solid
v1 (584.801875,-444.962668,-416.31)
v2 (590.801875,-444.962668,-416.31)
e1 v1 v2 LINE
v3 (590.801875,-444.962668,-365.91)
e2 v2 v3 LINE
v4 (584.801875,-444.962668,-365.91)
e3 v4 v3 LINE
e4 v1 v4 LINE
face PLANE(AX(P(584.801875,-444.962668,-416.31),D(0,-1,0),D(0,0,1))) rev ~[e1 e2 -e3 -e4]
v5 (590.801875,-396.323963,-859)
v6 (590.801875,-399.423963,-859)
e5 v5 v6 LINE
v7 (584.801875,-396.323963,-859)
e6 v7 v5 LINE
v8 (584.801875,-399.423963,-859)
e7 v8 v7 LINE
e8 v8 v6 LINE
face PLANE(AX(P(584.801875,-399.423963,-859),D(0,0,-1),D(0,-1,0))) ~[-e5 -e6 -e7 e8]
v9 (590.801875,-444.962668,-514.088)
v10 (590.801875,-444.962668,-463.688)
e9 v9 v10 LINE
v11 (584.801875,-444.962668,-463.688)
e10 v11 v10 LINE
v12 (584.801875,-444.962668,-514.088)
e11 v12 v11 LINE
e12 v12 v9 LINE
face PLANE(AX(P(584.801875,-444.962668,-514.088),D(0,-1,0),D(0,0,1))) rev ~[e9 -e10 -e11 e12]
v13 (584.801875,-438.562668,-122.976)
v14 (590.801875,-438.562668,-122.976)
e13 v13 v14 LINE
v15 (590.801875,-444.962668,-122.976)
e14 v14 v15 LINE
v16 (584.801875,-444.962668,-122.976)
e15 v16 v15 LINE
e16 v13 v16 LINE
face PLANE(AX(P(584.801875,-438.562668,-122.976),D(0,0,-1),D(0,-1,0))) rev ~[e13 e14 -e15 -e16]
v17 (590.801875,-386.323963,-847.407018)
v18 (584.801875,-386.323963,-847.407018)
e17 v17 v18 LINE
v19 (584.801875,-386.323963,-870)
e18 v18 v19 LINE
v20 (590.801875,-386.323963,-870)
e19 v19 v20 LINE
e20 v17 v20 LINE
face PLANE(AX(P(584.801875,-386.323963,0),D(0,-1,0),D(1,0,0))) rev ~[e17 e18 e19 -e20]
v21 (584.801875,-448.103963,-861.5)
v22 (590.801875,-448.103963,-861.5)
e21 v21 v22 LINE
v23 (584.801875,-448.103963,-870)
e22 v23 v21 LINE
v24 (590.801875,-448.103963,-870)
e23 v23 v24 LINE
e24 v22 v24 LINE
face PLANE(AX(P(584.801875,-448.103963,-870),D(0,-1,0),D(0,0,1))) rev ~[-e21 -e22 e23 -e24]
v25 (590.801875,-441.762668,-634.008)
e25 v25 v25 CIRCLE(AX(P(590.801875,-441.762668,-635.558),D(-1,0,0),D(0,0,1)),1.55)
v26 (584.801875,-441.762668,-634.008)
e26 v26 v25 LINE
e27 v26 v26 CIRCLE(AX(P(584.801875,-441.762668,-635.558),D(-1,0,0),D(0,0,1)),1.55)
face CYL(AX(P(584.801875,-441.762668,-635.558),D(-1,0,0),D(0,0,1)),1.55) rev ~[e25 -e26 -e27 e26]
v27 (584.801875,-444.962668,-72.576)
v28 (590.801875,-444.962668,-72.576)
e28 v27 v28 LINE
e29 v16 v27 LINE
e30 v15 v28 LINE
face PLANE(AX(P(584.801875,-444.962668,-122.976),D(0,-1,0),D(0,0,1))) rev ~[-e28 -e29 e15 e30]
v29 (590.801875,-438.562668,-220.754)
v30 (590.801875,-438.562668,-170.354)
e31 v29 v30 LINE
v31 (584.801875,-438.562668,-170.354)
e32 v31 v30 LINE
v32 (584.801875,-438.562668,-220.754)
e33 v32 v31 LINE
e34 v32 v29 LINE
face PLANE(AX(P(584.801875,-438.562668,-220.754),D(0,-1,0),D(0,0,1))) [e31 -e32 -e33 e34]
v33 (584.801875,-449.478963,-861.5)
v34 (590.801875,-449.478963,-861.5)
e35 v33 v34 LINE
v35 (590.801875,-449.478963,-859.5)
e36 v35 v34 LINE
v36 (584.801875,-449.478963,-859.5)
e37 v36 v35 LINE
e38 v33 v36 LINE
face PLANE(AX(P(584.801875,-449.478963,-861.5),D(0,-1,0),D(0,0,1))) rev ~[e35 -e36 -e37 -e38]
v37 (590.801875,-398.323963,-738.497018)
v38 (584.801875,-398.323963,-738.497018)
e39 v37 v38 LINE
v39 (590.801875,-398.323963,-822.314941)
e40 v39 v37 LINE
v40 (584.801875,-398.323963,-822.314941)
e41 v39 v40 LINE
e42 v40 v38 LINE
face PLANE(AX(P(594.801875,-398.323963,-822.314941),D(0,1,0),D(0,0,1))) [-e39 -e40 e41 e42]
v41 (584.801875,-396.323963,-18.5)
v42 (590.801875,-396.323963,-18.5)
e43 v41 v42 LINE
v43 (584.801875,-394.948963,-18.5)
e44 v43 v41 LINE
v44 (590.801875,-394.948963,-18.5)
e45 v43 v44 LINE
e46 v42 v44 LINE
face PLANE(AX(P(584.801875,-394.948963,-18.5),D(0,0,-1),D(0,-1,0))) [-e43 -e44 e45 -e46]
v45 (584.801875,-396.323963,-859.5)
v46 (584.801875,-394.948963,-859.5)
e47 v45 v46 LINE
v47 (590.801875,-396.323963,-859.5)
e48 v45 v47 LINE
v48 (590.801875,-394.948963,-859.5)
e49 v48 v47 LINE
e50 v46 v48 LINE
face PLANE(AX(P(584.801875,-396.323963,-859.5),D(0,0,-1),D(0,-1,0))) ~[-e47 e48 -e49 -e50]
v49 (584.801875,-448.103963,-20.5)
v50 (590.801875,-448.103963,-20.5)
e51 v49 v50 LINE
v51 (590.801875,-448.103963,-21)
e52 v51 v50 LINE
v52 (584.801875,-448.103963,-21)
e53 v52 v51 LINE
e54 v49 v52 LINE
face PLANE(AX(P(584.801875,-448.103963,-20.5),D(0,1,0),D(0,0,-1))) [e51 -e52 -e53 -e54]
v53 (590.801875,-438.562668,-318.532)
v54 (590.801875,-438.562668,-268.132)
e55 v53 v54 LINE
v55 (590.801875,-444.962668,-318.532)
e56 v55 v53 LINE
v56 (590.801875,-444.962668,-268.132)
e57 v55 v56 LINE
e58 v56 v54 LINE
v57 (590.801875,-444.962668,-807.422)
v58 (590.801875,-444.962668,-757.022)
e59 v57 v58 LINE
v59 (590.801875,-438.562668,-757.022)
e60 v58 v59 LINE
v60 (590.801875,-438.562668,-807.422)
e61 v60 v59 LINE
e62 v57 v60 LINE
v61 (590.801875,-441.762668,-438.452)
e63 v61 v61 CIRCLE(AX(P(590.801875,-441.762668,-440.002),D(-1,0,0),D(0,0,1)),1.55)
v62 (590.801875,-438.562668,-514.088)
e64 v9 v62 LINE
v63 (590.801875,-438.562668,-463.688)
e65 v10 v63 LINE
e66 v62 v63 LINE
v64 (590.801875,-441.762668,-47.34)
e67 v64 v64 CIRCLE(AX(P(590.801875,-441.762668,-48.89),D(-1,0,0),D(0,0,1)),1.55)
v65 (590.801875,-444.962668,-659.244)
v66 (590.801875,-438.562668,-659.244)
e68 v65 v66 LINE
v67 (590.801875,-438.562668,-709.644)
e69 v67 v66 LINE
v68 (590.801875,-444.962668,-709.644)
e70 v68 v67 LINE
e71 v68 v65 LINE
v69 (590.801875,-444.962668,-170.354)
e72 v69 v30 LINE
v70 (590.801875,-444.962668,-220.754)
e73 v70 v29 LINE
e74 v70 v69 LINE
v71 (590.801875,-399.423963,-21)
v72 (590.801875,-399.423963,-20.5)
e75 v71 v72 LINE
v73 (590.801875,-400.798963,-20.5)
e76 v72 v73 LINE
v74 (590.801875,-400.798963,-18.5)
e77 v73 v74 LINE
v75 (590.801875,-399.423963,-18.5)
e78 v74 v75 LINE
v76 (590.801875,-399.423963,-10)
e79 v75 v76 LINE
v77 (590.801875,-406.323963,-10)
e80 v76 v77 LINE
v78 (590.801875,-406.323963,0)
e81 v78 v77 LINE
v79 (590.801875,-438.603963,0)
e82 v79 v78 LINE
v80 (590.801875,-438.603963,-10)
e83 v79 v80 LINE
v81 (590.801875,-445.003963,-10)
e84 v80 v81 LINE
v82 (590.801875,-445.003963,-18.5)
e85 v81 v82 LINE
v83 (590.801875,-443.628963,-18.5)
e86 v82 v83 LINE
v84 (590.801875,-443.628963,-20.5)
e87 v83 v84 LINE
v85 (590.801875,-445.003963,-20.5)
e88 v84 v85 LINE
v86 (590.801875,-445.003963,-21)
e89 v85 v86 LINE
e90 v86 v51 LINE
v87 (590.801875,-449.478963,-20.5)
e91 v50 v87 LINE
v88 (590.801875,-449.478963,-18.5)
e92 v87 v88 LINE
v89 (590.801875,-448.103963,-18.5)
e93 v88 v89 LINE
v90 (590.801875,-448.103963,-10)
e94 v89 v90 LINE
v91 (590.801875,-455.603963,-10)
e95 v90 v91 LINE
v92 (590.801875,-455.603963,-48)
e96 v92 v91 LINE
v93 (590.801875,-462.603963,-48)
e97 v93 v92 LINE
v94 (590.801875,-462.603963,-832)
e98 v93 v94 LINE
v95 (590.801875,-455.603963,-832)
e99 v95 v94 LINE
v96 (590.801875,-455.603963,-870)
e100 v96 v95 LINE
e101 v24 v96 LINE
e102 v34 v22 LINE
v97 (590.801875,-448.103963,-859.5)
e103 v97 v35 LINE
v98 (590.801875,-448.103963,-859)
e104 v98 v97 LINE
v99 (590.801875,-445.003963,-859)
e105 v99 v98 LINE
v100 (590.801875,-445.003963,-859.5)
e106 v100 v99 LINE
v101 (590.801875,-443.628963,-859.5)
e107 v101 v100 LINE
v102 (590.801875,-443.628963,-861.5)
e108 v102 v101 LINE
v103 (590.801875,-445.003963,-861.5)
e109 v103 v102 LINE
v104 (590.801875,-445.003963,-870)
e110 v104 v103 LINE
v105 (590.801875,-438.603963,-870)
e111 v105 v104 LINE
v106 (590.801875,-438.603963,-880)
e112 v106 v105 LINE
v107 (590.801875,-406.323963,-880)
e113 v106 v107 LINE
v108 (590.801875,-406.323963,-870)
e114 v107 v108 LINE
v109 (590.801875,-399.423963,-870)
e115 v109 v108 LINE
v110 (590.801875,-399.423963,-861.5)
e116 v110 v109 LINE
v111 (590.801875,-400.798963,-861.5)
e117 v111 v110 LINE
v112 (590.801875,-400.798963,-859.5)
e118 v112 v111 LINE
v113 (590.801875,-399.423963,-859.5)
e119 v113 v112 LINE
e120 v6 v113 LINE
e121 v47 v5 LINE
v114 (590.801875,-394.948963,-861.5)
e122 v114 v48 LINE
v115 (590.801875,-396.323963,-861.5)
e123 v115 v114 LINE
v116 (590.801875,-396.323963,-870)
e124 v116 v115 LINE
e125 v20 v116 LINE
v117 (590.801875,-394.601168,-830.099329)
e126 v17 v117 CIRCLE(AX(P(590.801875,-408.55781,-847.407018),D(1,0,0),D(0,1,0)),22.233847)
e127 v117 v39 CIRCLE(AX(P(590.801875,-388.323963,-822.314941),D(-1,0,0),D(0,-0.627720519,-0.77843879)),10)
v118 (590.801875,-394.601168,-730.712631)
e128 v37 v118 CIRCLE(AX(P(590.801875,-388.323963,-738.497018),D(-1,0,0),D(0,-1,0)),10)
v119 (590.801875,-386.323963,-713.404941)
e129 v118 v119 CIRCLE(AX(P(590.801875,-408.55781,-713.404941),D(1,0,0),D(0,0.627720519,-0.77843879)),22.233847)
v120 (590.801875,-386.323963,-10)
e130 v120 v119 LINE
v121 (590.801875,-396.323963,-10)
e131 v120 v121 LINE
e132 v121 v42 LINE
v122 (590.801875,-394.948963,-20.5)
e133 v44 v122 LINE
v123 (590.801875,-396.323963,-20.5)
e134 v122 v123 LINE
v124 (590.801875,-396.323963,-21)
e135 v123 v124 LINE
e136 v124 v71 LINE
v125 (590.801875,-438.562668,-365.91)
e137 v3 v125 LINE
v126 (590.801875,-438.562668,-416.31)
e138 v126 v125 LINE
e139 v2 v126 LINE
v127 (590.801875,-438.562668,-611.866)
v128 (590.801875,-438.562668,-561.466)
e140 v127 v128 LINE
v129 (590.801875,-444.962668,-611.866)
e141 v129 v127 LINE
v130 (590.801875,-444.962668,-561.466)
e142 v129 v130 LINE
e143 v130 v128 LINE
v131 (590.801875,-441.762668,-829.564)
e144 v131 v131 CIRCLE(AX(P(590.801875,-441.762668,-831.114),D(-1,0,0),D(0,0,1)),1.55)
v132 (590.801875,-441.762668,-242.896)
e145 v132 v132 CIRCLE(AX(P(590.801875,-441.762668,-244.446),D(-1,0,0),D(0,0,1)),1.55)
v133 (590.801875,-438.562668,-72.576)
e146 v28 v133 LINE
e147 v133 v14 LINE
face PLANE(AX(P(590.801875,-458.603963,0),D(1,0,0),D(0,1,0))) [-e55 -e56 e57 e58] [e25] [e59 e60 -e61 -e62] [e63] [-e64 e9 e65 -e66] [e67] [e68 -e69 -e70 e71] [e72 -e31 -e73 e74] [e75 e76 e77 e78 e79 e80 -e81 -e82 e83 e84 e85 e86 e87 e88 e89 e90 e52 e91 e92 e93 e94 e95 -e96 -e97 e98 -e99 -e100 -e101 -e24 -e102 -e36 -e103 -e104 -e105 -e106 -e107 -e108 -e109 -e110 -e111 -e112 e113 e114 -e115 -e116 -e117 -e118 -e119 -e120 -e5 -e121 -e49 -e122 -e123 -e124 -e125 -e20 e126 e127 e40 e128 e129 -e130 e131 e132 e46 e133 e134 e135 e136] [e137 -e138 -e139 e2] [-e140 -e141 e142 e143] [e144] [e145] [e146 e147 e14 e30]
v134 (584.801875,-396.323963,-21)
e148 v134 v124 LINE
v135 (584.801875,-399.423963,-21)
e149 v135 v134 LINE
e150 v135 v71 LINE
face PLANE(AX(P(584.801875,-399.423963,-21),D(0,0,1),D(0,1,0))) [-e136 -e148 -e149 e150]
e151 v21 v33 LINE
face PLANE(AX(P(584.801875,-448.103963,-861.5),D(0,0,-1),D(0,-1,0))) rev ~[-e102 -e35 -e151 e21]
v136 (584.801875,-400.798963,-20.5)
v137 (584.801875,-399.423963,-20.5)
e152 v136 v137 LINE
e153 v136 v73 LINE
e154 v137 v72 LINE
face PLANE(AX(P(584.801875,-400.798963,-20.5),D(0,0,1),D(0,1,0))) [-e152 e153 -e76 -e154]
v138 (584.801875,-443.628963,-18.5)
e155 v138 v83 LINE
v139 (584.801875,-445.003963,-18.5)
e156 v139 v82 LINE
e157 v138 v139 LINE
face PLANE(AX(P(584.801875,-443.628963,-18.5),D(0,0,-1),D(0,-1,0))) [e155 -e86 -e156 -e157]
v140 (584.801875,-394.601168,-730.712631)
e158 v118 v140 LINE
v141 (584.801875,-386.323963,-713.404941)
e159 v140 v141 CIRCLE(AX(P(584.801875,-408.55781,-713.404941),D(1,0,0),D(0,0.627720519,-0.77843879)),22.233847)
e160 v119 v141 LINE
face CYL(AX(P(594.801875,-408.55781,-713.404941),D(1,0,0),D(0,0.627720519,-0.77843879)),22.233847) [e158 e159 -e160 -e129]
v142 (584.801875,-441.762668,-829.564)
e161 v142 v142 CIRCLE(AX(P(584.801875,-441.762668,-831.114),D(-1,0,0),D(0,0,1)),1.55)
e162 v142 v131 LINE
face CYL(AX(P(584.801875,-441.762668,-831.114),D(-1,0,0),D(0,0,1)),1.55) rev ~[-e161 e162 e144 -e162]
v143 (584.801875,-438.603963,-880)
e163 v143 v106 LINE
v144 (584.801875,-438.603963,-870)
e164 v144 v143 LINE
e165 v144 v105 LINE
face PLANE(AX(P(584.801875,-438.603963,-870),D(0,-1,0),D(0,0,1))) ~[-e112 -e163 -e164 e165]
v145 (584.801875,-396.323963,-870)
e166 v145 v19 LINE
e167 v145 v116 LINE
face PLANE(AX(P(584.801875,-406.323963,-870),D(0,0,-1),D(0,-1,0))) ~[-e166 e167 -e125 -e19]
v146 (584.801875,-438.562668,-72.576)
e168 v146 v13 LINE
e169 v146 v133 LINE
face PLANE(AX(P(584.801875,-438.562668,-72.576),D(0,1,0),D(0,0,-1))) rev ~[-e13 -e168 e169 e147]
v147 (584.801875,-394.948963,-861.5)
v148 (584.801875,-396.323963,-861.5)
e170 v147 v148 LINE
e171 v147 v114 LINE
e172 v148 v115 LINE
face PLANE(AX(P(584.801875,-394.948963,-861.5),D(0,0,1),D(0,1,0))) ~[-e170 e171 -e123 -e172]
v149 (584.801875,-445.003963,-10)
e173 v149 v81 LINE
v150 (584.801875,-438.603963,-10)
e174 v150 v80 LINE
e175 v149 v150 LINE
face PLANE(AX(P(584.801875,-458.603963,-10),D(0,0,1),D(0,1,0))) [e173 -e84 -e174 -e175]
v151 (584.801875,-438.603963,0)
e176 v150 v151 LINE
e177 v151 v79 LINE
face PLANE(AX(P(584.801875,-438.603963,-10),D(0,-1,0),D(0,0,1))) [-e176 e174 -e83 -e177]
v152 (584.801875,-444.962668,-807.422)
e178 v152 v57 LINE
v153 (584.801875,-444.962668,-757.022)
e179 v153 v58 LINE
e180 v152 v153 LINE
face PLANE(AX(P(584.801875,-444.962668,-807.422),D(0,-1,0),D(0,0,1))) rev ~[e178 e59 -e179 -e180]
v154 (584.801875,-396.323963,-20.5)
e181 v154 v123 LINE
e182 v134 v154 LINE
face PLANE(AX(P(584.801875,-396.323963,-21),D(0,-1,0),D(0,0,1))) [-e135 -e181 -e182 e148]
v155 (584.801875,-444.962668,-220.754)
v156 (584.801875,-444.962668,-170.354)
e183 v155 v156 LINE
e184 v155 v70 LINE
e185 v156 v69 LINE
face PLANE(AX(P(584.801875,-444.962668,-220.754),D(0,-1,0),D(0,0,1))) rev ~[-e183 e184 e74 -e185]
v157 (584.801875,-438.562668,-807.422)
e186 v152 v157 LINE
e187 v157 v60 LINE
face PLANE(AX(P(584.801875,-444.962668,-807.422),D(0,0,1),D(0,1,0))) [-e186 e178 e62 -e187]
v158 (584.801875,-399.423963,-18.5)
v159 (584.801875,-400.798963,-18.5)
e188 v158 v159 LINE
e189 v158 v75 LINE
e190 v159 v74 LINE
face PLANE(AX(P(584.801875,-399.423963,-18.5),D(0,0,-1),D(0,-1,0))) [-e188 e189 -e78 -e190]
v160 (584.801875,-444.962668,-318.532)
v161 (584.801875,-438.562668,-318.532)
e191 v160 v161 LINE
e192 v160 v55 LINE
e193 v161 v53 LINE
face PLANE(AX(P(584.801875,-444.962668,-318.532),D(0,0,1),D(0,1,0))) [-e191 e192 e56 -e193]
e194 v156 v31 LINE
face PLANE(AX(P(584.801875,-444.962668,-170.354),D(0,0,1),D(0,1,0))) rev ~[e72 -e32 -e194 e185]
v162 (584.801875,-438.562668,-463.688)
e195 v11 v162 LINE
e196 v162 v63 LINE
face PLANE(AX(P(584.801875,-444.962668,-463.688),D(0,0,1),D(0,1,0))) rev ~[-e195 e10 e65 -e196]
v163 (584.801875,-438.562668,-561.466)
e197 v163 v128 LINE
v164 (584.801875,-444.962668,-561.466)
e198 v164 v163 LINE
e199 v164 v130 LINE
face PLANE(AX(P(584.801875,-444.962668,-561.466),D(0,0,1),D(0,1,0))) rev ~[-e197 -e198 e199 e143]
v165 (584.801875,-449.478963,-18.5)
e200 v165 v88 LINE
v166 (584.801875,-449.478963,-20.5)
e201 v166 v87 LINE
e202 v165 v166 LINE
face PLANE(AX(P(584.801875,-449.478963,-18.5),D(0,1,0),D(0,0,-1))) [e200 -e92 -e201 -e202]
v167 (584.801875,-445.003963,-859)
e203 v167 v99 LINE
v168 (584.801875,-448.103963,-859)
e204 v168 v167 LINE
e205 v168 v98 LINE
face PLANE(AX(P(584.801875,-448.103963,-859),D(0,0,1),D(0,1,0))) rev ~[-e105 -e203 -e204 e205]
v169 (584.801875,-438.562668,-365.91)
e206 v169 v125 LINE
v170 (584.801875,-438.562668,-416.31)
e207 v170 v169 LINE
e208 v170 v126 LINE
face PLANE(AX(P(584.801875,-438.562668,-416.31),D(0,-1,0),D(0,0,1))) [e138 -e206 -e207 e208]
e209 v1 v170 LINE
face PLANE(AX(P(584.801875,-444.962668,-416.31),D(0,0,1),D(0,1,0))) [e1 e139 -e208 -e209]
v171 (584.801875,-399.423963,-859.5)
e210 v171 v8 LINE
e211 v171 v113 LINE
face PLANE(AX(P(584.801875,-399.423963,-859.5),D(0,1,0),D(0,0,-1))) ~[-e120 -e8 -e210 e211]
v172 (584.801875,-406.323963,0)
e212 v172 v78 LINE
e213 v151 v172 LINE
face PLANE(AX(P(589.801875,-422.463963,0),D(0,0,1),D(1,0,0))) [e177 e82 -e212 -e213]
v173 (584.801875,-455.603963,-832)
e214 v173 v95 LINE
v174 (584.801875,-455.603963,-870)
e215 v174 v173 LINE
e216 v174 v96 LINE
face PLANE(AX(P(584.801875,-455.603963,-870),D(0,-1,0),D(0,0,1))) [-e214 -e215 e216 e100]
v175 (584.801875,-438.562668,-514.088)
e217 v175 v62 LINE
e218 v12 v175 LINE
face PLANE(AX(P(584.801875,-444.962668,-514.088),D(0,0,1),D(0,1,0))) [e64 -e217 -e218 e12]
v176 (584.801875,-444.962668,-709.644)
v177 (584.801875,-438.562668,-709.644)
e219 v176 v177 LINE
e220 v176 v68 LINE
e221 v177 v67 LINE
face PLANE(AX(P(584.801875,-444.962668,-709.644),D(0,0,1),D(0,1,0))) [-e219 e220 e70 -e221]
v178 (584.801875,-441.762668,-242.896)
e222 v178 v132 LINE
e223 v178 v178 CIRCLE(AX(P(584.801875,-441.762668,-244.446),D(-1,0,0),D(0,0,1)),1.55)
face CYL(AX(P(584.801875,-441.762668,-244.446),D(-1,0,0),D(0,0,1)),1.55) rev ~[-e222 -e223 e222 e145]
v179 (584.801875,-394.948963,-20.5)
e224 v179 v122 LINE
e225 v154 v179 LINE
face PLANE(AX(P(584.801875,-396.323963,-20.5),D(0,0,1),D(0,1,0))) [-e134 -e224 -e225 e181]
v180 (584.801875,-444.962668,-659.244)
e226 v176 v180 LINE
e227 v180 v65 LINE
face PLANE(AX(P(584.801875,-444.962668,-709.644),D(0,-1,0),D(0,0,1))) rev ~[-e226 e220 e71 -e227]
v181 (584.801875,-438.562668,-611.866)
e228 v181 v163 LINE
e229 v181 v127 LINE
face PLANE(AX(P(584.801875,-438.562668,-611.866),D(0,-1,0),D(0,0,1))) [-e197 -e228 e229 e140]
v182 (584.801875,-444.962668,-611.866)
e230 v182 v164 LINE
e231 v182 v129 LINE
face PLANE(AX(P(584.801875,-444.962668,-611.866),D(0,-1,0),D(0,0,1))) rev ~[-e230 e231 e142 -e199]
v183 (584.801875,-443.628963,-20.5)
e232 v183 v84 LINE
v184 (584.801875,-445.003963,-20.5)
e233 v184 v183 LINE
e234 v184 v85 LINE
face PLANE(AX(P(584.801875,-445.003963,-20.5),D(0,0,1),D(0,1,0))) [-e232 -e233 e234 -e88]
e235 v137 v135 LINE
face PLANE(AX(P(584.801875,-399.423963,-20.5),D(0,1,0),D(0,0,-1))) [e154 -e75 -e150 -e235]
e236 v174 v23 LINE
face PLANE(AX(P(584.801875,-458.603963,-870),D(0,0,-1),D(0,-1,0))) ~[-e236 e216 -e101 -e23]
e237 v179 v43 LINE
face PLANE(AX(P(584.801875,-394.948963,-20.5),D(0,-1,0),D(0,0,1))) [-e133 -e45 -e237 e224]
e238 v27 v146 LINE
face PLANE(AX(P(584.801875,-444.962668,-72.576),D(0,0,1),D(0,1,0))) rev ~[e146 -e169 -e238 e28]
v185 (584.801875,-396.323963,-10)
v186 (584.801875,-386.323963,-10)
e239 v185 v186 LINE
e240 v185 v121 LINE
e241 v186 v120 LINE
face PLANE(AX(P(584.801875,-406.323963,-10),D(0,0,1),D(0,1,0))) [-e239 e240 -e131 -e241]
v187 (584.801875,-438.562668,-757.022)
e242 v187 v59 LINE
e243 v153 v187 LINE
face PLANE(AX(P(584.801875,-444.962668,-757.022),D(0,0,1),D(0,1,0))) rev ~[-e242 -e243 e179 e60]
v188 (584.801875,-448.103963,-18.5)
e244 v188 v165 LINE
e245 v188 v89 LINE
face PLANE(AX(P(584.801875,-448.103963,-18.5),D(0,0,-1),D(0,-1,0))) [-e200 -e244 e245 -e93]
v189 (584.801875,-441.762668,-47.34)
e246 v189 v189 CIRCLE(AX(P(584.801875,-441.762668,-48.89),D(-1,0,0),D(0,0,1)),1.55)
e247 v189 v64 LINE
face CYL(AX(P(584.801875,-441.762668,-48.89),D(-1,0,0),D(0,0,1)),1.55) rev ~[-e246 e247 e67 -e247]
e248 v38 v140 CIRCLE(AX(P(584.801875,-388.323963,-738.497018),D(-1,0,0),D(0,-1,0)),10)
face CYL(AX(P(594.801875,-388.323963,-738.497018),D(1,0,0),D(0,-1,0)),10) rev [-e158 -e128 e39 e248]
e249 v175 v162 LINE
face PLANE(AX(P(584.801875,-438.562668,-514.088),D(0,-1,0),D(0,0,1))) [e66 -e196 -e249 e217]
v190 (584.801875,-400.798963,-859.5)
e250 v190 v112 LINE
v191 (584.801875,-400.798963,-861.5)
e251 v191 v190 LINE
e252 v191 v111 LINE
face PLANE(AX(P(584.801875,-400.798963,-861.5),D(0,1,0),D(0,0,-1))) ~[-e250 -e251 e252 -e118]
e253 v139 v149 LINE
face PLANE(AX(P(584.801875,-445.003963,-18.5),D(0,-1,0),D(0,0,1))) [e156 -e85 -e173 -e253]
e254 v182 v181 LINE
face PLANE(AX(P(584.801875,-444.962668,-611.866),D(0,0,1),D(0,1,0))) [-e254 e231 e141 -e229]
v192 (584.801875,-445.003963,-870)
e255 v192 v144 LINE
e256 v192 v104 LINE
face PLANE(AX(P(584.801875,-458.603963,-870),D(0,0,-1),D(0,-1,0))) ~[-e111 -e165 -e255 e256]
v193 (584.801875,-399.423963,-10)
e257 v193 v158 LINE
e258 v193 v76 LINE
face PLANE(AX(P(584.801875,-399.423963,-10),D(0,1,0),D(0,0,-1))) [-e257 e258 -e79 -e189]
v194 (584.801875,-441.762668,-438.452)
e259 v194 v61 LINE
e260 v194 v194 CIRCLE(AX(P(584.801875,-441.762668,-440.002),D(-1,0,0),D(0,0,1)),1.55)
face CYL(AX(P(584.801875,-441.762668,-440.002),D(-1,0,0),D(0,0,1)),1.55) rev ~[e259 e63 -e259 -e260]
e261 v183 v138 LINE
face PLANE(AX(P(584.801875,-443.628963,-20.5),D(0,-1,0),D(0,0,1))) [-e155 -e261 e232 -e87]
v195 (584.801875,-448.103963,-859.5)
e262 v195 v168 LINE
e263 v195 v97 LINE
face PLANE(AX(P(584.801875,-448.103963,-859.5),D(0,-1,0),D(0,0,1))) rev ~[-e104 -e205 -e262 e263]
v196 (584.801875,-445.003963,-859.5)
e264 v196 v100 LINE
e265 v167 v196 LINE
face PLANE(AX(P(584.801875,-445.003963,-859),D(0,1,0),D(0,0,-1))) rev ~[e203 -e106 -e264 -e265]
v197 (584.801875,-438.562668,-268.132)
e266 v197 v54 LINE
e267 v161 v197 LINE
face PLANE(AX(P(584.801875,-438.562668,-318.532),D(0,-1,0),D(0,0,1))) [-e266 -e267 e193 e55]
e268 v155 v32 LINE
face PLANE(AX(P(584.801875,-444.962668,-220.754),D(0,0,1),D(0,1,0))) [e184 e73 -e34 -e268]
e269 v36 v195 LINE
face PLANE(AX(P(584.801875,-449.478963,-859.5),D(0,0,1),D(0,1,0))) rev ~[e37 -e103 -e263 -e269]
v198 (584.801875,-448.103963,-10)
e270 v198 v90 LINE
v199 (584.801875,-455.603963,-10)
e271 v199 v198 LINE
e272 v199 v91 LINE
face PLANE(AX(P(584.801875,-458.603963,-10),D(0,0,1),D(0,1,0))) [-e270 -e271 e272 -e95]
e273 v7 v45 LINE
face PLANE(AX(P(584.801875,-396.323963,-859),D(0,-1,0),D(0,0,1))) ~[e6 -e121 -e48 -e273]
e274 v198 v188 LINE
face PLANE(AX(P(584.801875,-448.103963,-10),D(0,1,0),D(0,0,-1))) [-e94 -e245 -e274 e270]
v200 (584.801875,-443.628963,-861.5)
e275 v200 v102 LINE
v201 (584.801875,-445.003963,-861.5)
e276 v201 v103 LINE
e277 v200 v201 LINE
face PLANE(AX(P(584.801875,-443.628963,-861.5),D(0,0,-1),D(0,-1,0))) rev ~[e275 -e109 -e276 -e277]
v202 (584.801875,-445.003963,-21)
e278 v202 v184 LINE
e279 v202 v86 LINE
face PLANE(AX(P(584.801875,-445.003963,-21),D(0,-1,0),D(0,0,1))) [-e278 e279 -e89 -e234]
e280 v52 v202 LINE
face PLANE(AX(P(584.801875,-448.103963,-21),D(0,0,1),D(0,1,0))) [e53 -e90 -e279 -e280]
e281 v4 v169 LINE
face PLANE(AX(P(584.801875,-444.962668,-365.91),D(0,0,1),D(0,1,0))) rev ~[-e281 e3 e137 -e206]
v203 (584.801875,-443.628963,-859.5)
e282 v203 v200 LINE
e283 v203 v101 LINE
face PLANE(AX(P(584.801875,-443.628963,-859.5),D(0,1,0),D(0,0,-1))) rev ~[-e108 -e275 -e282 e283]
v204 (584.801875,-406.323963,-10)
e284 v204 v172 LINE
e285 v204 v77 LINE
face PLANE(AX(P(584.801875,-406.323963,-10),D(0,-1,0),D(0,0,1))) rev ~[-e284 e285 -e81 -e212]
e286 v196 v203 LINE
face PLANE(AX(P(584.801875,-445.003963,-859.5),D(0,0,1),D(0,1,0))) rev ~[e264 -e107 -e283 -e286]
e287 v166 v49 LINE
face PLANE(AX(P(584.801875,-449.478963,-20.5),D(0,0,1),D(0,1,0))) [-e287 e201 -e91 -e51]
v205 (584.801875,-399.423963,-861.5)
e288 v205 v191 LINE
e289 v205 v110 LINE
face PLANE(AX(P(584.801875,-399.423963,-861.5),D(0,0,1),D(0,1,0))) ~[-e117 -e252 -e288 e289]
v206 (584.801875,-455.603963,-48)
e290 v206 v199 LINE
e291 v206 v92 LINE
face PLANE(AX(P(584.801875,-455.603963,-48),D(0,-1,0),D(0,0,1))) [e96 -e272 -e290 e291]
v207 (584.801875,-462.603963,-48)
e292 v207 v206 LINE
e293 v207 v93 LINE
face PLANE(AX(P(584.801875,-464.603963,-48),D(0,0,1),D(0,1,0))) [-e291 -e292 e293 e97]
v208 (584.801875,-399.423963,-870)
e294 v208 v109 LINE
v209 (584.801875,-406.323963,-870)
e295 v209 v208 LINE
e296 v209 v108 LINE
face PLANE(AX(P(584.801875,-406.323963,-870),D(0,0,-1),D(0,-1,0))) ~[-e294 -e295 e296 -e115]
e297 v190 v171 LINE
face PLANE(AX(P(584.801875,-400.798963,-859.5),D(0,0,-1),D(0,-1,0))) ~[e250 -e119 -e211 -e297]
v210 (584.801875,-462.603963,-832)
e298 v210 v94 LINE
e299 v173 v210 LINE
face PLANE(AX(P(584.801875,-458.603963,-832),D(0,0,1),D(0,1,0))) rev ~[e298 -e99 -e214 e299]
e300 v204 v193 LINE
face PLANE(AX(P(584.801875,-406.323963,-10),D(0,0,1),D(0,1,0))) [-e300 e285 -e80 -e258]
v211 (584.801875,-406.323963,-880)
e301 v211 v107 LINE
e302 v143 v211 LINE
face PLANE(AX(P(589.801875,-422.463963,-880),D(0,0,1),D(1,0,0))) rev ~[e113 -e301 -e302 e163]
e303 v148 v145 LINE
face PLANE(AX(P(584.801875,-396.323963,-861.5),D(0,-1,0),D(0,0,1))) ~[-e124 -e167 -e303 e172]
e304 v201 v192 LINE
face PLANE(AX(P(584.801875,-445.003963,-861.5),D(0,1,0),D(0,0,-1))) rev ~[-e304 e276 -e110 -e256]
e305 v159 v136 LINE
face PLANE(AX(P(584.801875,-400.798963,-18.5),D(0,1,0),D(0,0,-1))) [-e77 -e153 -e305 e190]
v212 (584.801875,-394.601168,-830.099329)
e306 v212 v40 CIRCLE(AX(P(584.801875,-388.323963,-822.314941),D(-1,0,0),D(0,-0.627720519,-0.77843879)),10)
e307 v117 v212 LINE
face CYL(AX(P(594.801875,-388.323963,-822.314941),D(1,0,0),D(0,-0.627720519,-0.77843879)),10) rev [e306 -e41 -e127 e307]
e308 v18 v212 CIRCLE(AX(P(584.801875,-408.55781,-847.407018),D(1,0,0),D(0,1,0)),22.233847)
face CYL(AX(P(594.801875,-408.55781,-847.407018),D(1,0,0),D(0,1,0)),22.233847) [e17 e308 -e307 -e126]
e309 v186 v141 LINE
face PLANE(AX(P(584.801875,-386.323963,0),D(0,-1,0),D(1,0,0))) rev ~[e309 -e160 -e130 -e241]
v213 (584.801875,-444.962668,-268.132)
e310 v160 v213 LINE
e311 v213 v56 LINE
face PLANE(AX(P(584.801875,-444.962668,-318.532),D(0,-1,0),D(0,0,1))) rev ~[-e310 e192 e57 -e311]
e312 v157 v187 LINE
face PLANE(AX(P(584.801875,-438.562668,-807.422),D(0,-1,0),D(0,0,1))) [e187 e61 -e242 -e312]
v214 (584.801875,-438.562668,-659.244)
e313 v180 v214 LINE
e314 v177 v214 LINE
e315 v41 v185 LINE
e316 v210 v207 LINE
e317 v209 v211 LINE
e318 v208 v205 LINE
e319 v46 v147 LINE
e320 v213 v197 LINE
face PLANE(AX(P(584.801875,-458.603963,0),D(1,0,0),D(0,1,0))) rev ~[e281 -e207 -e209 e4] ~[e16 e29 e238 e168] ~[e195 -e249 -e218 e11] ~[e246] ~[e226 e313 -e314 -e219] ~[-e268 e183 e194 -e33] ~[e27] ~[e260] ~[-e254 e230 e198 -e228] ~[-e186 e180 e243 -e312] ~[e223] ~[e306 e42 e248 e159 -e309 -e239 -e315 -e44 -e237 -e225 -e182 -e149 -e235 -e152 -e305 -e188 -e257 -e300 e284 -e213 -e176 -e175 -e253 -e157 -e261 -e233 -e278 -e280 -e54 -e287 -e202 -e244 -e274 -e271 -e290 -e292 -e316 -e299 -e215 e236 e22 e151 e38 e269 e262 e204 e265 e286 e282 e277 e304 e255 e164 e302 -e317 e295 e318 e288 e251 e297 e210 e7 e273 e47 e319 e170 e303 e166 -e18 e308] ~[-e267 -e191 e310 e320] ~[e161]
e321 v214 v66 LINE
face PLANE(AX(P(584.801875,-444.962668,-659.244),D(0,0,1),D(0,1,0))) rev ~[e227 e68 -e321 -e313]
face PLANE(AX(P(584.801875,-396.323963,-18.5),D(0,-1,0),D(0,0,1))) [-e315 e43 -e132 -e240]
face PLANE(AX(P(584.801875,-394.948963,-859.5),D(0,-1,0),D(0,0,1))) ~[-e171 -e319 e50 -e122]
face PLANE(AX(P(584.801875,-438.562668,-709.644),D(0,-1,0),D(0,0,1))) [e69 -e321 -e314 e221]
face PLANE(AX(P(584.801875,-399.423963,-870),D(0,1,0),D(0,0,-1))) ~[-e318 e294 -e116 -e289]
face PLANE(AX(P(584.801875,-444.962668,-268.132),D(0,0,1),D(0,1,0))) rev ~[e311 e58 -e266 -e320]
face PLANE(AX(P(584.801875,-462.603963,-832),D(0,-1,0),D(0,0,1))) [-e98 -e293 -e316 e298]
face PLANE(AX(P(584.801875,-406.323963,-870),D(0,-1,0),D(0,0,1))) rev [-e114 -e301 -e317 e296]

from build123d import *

# Parameters (mm, degrees)
SZKIC1_W                    = 10
SZKIC1_H                    = 72.28
DODANIE_WYCI_GNI_CIE1_DEPTH = 880
WYTNIJ_WYCI_GNI_CIE1_DEPTH  = 10
PRZENIE_CIAN_1_BY           = 4
SZKIC11_R                   = 1.55
WYTNIJ_WYCI_GNI_CIE5_DEPTH  = 6
SZYK_LINIOWY2_COUNT         = 5
SZYK_LINIOWY2_PITCH         = 195.556
SZKIC4_W                    = 10
SZKIC4_H                    = 20
WYTNIJ_WYCI_GNI_CIE2_DEPTH  = 10
SZKIC12_W                   = 784
SZKIC12_H                   = 6
DODANIE_WYCI_GNI_CIE2_DEPTH = 6
SZKIC15_W                   = 38
SZKIC15_H                   = 3
WYTNIJ_WYCI_GNI_CIE8_DEPTH  = 6
SZKIC13_W                   = 784
SZKIC13_H                   = 2
WYTNIJ_WYCI_GNI_CIE6_DEPTH  = 996.134585066
WYTNIJ_WYCI_GNI_CIE3_DEPTH  = 10
SZYK_LINIOWY1_COUNT         = 2
SZYK_LINIOWY1_PITCH         = 48.68
LUSTRO1_COPY_1_DEPTH        = 10
SZKIC8_W                    = 50.4
SZKIC8_H                    = 6.4
WYTNIJ_WYCI_GNI_CIE4_DEPTH  = 6


with BuildPart() as part:
    # Szkic1 → Dodanie-wyciągnięcie1 (new body)
    with BuildSketch(Plane.XY):
        with Locations((589.801874809, -422.463962956)):
            Rectangle(SZKIC1_W, SZKIC1_H)
    extrude(amount=-DODANIE_WYCI_GNI_CIE1_DEPTH)

    # Szkic3 → Wytnij-wyciągnięcie1 (cut)
    with BuildSketch(Plane(origin=(594.801874809, 0, 0), x_dir=(0, 0, -1), z_dir=(1, 0, 0))):
        with BuildLine():
            Line((713.404941199, -386.323962956), (847.40701842, -386.323962956))
            ThreePointArc((847.40701842, -386.323962956), (837.81446616, -388.499721921), (830.099329099, -394.601168148))
            ThreePointArc((830.099329099, -394.601168148), (826.629332702, -397.345383352), (822.314941199, -398.323962956))
            Line((822.314941199, -398.323962956), (738.49701842, -398.323962956))
            ThreePointArc((738.49701842, -398.323962956), (734.182626917, -397.345383352), (730.71263052, -394.601168148))
            ThreePointArc((730.71263052, -394.601168148), (722.997493459, -388.499721921), (713.404941199, -386.323962956))
        make_face()
    extrude(amount=-WYTNIJ_WYCI_GNI_CIE1_DEPTH, mode=Mode.SUBTRACT)

    # Przenieś ścianę1: a face moved inward by 4.0
    extrude(part.faces().sort_by_distance((594.801874809, -423.080552613, -433.108983903))[0], amount=PRZENIE_CIAN_1_BY, dir=(-1, 0, 0), mode=Mode.SUBTRACT)

    # Szkic11 → Wytnij-wyciągnięcie5 (cut)
    with BuildSketch(Plane.ZY.offset(-584.801874809)):
        with Locations((-48.89, -441.762668339)):
            Circle(SZKIC11_R)
    wytnij_wyci_gni_cie5 = extrude(amount=-WYTNIJ_WYCI_GNI_CIE5_DEPTH, mode=Mode.SUBTRACT)

    # Szyk liniowy2: Wytnij-wyciągnięcie5 ×5
    with Locations(*[(0, 0, -i * SZYK_LINIOWY2_PITCH) for i in range(1, SZYK_LINIOWY2_COUNT)]):
        add(wytnij_wyci_gni_cie5, mode=Mode.SUBTRACT)

    # Szkic4 → Wytnij-wyciągnięcie2 (cut)
    with BuildSketch(Plane.ZY.offset(-584.801874809)):
        with Locations((-5, -396.323962956)):
            Rectangle(SZKIC4_W, SZKIC4_H)
        with Locations((-5, -448.603962956)):
            Rectangle(SZKIC4_W, SZKIC4_H)
    wytnij_wyci_gni_cie2 = extrude(amount=-WYTNIJ_WYCI_GNI_CIE2_DEPTH, mode=Mode.SUBTRACT)

    # Lustro2: Wytnij-wyciągnięcie2 across plane
    add(wytnij_wyci_gni_cie2.mirror(Plane.XY.offset(-440)), mode=Mode.SUBTRACT)

    # Szkic12 → Dodanie-wyciągnięcie2 (add)
    with BuildSketch(Plane.ZY.offset(-584.801874809)):
        with Locations((-440, -461.603962956)):
            Rectangle(SZKIC12_W, SZKIC12_H)
    extrude(amount=-DODANIE_WYCI_GNI_CIE2_DEPTH)

    # Szkic15 → Wytnij-wyciągnięcie8 (cut)
    with BuildSketch(Plane.ZY.offset(-584.801874809)):
        with Locations((-851, -457.103962956)):
            Rectangle(SZKIC15_W, SZKIC15_H)
        with Locations((-29, -457.103962956)):
            Rectangle(SZKIC15_W, SZKIC15_H)
    extrude(amount=-WYTNIJ_WYCI_GNI_CIE8_DEPTH, mode=Mode.SUBTRACT)

    # Szkic13 → Wytnij-wyciągnięcie6 (cut, through all)
    with BuildSketch(Plane.ZY.offset(-584.801874809)):
        with Locations((-440, -463.603962956)):
            Rectangle(SZKIC13_W, SZKIC13_H)
    extrude(amount=-WYTNIJ_WYCI_GNI_CIE6_DEPTH, mode=Mode.SUBTRACT)

    # Szkic5 → Wytnij-wyciągnięcie3 (cut)
    with BuildSketch(Plane.ZY.offset(-584.801874809)):
        Polygon((-21, -396.323962956), (-20.5, -396.323962956), (-20.5, -394.948962956), (-18.5, -394.948962956), (-18.5, -396.323962956), (-10, -396.323962956), (-10, -399.423962956), (-18.5, -399.423962956), (-18.5, -400.798962956), (-20.5, -400.798962956), (-20.5, -399.423962956), (-21, -399.423962956), align=None)
    wytnij_wyci_gni_cie3 = extrude(amount=-WYTNIJ_WYCI_GNI_CIE3_DEPTH, mode=Mode.SUBTRACT)

    # Szyk liniowy1: Wytnij-wyciągnięcie3 ×2
    with Locations(*[(0, -i * SZYK_LINIOWY1_PITCH, 0) for i in range(1, SZYK_LINIOWY1_COUNT)]):
        add(wytnij_wyci_gni_cie3, mode=Mode.SUBTRACT)

    # Lustro1: Wytnij-wyciągnięcie3 across plane
    add(wytnij_wyci_gni_cie3.mirror(Plane.XY.offset(-440)), mode=Mode.SUBTRACT)

    # Lustro1 copy 1 sketch → Lustro1 copy 1 (cut)
    with BuildSketch(Plane(origin=(584.801874809, -48.68, -880), x_dir=(0, 0, -1), z_dir=(-1, 0, 0))):
        Polygon((-21, 396.323962956), (-20.5, 396.323962956), (-20.5, 394.948962956), (-18.5, 394.948962956), (-18.5, 396.323962956), (-10, 396.323962956), (-10, 399.423962956), (-18.5, 399.423962956), (-18.5, 400.798962956), (-20.5, 400.798962956), (-20.5, 399.423962956), (-21, 399.423962956), align=None)
    extrude(amount=-LUSTRO1_COPY_1_DEPTH, mode=Mode.SUBTRACT)

    # Szkic8 → Wytnij-wyciągnięcie4 (cut)
    with BuildSketch(Plane.ZY.offset(-584.801874809)):
        Polygon((-106.468297453, -438.562668339), (-122.976, -438.562668339), (-122.976, -444.962668339), (-106.50664325, -444.962668339), (-72.576, -444.962668339), (-72.576, -438.562668339), align=None)
        with Locations((-195.554, -441.762668339)):
            Rectangle(SZKIC8_W, SZKIC8_H)
        with Locations((-293.332, -441.762668339)):
            Rectangle(SZKIC8_W, SZKIC8_H)
        with Locations((-391.11, -441.762668339)):
            Rectangle(SZKIC8_W, SZKIC8_H)
        with Locations((-488.888, -441.762668339)):
            Rectangle(SZKIC8_W, SZKIC8_H)
        with Locations((-586.666, -441.762668339)):
            Rectangle(SZKIC8_W, SZKIC8_H)
        with Locations((-684.444, -441.762668339)):
            Rectangle(SZKIC8_W, SZKIC8_H)
        with Locations((-782.222, -441.762668339)):
            Rectangle(SZKIC8_W, SZKIC8_H)
    extrude(amount=-WYTNIJ_WYCI_GNI_CIE4_DEPTH, mode=Mode.SUBTRACT)


solid = part.part
